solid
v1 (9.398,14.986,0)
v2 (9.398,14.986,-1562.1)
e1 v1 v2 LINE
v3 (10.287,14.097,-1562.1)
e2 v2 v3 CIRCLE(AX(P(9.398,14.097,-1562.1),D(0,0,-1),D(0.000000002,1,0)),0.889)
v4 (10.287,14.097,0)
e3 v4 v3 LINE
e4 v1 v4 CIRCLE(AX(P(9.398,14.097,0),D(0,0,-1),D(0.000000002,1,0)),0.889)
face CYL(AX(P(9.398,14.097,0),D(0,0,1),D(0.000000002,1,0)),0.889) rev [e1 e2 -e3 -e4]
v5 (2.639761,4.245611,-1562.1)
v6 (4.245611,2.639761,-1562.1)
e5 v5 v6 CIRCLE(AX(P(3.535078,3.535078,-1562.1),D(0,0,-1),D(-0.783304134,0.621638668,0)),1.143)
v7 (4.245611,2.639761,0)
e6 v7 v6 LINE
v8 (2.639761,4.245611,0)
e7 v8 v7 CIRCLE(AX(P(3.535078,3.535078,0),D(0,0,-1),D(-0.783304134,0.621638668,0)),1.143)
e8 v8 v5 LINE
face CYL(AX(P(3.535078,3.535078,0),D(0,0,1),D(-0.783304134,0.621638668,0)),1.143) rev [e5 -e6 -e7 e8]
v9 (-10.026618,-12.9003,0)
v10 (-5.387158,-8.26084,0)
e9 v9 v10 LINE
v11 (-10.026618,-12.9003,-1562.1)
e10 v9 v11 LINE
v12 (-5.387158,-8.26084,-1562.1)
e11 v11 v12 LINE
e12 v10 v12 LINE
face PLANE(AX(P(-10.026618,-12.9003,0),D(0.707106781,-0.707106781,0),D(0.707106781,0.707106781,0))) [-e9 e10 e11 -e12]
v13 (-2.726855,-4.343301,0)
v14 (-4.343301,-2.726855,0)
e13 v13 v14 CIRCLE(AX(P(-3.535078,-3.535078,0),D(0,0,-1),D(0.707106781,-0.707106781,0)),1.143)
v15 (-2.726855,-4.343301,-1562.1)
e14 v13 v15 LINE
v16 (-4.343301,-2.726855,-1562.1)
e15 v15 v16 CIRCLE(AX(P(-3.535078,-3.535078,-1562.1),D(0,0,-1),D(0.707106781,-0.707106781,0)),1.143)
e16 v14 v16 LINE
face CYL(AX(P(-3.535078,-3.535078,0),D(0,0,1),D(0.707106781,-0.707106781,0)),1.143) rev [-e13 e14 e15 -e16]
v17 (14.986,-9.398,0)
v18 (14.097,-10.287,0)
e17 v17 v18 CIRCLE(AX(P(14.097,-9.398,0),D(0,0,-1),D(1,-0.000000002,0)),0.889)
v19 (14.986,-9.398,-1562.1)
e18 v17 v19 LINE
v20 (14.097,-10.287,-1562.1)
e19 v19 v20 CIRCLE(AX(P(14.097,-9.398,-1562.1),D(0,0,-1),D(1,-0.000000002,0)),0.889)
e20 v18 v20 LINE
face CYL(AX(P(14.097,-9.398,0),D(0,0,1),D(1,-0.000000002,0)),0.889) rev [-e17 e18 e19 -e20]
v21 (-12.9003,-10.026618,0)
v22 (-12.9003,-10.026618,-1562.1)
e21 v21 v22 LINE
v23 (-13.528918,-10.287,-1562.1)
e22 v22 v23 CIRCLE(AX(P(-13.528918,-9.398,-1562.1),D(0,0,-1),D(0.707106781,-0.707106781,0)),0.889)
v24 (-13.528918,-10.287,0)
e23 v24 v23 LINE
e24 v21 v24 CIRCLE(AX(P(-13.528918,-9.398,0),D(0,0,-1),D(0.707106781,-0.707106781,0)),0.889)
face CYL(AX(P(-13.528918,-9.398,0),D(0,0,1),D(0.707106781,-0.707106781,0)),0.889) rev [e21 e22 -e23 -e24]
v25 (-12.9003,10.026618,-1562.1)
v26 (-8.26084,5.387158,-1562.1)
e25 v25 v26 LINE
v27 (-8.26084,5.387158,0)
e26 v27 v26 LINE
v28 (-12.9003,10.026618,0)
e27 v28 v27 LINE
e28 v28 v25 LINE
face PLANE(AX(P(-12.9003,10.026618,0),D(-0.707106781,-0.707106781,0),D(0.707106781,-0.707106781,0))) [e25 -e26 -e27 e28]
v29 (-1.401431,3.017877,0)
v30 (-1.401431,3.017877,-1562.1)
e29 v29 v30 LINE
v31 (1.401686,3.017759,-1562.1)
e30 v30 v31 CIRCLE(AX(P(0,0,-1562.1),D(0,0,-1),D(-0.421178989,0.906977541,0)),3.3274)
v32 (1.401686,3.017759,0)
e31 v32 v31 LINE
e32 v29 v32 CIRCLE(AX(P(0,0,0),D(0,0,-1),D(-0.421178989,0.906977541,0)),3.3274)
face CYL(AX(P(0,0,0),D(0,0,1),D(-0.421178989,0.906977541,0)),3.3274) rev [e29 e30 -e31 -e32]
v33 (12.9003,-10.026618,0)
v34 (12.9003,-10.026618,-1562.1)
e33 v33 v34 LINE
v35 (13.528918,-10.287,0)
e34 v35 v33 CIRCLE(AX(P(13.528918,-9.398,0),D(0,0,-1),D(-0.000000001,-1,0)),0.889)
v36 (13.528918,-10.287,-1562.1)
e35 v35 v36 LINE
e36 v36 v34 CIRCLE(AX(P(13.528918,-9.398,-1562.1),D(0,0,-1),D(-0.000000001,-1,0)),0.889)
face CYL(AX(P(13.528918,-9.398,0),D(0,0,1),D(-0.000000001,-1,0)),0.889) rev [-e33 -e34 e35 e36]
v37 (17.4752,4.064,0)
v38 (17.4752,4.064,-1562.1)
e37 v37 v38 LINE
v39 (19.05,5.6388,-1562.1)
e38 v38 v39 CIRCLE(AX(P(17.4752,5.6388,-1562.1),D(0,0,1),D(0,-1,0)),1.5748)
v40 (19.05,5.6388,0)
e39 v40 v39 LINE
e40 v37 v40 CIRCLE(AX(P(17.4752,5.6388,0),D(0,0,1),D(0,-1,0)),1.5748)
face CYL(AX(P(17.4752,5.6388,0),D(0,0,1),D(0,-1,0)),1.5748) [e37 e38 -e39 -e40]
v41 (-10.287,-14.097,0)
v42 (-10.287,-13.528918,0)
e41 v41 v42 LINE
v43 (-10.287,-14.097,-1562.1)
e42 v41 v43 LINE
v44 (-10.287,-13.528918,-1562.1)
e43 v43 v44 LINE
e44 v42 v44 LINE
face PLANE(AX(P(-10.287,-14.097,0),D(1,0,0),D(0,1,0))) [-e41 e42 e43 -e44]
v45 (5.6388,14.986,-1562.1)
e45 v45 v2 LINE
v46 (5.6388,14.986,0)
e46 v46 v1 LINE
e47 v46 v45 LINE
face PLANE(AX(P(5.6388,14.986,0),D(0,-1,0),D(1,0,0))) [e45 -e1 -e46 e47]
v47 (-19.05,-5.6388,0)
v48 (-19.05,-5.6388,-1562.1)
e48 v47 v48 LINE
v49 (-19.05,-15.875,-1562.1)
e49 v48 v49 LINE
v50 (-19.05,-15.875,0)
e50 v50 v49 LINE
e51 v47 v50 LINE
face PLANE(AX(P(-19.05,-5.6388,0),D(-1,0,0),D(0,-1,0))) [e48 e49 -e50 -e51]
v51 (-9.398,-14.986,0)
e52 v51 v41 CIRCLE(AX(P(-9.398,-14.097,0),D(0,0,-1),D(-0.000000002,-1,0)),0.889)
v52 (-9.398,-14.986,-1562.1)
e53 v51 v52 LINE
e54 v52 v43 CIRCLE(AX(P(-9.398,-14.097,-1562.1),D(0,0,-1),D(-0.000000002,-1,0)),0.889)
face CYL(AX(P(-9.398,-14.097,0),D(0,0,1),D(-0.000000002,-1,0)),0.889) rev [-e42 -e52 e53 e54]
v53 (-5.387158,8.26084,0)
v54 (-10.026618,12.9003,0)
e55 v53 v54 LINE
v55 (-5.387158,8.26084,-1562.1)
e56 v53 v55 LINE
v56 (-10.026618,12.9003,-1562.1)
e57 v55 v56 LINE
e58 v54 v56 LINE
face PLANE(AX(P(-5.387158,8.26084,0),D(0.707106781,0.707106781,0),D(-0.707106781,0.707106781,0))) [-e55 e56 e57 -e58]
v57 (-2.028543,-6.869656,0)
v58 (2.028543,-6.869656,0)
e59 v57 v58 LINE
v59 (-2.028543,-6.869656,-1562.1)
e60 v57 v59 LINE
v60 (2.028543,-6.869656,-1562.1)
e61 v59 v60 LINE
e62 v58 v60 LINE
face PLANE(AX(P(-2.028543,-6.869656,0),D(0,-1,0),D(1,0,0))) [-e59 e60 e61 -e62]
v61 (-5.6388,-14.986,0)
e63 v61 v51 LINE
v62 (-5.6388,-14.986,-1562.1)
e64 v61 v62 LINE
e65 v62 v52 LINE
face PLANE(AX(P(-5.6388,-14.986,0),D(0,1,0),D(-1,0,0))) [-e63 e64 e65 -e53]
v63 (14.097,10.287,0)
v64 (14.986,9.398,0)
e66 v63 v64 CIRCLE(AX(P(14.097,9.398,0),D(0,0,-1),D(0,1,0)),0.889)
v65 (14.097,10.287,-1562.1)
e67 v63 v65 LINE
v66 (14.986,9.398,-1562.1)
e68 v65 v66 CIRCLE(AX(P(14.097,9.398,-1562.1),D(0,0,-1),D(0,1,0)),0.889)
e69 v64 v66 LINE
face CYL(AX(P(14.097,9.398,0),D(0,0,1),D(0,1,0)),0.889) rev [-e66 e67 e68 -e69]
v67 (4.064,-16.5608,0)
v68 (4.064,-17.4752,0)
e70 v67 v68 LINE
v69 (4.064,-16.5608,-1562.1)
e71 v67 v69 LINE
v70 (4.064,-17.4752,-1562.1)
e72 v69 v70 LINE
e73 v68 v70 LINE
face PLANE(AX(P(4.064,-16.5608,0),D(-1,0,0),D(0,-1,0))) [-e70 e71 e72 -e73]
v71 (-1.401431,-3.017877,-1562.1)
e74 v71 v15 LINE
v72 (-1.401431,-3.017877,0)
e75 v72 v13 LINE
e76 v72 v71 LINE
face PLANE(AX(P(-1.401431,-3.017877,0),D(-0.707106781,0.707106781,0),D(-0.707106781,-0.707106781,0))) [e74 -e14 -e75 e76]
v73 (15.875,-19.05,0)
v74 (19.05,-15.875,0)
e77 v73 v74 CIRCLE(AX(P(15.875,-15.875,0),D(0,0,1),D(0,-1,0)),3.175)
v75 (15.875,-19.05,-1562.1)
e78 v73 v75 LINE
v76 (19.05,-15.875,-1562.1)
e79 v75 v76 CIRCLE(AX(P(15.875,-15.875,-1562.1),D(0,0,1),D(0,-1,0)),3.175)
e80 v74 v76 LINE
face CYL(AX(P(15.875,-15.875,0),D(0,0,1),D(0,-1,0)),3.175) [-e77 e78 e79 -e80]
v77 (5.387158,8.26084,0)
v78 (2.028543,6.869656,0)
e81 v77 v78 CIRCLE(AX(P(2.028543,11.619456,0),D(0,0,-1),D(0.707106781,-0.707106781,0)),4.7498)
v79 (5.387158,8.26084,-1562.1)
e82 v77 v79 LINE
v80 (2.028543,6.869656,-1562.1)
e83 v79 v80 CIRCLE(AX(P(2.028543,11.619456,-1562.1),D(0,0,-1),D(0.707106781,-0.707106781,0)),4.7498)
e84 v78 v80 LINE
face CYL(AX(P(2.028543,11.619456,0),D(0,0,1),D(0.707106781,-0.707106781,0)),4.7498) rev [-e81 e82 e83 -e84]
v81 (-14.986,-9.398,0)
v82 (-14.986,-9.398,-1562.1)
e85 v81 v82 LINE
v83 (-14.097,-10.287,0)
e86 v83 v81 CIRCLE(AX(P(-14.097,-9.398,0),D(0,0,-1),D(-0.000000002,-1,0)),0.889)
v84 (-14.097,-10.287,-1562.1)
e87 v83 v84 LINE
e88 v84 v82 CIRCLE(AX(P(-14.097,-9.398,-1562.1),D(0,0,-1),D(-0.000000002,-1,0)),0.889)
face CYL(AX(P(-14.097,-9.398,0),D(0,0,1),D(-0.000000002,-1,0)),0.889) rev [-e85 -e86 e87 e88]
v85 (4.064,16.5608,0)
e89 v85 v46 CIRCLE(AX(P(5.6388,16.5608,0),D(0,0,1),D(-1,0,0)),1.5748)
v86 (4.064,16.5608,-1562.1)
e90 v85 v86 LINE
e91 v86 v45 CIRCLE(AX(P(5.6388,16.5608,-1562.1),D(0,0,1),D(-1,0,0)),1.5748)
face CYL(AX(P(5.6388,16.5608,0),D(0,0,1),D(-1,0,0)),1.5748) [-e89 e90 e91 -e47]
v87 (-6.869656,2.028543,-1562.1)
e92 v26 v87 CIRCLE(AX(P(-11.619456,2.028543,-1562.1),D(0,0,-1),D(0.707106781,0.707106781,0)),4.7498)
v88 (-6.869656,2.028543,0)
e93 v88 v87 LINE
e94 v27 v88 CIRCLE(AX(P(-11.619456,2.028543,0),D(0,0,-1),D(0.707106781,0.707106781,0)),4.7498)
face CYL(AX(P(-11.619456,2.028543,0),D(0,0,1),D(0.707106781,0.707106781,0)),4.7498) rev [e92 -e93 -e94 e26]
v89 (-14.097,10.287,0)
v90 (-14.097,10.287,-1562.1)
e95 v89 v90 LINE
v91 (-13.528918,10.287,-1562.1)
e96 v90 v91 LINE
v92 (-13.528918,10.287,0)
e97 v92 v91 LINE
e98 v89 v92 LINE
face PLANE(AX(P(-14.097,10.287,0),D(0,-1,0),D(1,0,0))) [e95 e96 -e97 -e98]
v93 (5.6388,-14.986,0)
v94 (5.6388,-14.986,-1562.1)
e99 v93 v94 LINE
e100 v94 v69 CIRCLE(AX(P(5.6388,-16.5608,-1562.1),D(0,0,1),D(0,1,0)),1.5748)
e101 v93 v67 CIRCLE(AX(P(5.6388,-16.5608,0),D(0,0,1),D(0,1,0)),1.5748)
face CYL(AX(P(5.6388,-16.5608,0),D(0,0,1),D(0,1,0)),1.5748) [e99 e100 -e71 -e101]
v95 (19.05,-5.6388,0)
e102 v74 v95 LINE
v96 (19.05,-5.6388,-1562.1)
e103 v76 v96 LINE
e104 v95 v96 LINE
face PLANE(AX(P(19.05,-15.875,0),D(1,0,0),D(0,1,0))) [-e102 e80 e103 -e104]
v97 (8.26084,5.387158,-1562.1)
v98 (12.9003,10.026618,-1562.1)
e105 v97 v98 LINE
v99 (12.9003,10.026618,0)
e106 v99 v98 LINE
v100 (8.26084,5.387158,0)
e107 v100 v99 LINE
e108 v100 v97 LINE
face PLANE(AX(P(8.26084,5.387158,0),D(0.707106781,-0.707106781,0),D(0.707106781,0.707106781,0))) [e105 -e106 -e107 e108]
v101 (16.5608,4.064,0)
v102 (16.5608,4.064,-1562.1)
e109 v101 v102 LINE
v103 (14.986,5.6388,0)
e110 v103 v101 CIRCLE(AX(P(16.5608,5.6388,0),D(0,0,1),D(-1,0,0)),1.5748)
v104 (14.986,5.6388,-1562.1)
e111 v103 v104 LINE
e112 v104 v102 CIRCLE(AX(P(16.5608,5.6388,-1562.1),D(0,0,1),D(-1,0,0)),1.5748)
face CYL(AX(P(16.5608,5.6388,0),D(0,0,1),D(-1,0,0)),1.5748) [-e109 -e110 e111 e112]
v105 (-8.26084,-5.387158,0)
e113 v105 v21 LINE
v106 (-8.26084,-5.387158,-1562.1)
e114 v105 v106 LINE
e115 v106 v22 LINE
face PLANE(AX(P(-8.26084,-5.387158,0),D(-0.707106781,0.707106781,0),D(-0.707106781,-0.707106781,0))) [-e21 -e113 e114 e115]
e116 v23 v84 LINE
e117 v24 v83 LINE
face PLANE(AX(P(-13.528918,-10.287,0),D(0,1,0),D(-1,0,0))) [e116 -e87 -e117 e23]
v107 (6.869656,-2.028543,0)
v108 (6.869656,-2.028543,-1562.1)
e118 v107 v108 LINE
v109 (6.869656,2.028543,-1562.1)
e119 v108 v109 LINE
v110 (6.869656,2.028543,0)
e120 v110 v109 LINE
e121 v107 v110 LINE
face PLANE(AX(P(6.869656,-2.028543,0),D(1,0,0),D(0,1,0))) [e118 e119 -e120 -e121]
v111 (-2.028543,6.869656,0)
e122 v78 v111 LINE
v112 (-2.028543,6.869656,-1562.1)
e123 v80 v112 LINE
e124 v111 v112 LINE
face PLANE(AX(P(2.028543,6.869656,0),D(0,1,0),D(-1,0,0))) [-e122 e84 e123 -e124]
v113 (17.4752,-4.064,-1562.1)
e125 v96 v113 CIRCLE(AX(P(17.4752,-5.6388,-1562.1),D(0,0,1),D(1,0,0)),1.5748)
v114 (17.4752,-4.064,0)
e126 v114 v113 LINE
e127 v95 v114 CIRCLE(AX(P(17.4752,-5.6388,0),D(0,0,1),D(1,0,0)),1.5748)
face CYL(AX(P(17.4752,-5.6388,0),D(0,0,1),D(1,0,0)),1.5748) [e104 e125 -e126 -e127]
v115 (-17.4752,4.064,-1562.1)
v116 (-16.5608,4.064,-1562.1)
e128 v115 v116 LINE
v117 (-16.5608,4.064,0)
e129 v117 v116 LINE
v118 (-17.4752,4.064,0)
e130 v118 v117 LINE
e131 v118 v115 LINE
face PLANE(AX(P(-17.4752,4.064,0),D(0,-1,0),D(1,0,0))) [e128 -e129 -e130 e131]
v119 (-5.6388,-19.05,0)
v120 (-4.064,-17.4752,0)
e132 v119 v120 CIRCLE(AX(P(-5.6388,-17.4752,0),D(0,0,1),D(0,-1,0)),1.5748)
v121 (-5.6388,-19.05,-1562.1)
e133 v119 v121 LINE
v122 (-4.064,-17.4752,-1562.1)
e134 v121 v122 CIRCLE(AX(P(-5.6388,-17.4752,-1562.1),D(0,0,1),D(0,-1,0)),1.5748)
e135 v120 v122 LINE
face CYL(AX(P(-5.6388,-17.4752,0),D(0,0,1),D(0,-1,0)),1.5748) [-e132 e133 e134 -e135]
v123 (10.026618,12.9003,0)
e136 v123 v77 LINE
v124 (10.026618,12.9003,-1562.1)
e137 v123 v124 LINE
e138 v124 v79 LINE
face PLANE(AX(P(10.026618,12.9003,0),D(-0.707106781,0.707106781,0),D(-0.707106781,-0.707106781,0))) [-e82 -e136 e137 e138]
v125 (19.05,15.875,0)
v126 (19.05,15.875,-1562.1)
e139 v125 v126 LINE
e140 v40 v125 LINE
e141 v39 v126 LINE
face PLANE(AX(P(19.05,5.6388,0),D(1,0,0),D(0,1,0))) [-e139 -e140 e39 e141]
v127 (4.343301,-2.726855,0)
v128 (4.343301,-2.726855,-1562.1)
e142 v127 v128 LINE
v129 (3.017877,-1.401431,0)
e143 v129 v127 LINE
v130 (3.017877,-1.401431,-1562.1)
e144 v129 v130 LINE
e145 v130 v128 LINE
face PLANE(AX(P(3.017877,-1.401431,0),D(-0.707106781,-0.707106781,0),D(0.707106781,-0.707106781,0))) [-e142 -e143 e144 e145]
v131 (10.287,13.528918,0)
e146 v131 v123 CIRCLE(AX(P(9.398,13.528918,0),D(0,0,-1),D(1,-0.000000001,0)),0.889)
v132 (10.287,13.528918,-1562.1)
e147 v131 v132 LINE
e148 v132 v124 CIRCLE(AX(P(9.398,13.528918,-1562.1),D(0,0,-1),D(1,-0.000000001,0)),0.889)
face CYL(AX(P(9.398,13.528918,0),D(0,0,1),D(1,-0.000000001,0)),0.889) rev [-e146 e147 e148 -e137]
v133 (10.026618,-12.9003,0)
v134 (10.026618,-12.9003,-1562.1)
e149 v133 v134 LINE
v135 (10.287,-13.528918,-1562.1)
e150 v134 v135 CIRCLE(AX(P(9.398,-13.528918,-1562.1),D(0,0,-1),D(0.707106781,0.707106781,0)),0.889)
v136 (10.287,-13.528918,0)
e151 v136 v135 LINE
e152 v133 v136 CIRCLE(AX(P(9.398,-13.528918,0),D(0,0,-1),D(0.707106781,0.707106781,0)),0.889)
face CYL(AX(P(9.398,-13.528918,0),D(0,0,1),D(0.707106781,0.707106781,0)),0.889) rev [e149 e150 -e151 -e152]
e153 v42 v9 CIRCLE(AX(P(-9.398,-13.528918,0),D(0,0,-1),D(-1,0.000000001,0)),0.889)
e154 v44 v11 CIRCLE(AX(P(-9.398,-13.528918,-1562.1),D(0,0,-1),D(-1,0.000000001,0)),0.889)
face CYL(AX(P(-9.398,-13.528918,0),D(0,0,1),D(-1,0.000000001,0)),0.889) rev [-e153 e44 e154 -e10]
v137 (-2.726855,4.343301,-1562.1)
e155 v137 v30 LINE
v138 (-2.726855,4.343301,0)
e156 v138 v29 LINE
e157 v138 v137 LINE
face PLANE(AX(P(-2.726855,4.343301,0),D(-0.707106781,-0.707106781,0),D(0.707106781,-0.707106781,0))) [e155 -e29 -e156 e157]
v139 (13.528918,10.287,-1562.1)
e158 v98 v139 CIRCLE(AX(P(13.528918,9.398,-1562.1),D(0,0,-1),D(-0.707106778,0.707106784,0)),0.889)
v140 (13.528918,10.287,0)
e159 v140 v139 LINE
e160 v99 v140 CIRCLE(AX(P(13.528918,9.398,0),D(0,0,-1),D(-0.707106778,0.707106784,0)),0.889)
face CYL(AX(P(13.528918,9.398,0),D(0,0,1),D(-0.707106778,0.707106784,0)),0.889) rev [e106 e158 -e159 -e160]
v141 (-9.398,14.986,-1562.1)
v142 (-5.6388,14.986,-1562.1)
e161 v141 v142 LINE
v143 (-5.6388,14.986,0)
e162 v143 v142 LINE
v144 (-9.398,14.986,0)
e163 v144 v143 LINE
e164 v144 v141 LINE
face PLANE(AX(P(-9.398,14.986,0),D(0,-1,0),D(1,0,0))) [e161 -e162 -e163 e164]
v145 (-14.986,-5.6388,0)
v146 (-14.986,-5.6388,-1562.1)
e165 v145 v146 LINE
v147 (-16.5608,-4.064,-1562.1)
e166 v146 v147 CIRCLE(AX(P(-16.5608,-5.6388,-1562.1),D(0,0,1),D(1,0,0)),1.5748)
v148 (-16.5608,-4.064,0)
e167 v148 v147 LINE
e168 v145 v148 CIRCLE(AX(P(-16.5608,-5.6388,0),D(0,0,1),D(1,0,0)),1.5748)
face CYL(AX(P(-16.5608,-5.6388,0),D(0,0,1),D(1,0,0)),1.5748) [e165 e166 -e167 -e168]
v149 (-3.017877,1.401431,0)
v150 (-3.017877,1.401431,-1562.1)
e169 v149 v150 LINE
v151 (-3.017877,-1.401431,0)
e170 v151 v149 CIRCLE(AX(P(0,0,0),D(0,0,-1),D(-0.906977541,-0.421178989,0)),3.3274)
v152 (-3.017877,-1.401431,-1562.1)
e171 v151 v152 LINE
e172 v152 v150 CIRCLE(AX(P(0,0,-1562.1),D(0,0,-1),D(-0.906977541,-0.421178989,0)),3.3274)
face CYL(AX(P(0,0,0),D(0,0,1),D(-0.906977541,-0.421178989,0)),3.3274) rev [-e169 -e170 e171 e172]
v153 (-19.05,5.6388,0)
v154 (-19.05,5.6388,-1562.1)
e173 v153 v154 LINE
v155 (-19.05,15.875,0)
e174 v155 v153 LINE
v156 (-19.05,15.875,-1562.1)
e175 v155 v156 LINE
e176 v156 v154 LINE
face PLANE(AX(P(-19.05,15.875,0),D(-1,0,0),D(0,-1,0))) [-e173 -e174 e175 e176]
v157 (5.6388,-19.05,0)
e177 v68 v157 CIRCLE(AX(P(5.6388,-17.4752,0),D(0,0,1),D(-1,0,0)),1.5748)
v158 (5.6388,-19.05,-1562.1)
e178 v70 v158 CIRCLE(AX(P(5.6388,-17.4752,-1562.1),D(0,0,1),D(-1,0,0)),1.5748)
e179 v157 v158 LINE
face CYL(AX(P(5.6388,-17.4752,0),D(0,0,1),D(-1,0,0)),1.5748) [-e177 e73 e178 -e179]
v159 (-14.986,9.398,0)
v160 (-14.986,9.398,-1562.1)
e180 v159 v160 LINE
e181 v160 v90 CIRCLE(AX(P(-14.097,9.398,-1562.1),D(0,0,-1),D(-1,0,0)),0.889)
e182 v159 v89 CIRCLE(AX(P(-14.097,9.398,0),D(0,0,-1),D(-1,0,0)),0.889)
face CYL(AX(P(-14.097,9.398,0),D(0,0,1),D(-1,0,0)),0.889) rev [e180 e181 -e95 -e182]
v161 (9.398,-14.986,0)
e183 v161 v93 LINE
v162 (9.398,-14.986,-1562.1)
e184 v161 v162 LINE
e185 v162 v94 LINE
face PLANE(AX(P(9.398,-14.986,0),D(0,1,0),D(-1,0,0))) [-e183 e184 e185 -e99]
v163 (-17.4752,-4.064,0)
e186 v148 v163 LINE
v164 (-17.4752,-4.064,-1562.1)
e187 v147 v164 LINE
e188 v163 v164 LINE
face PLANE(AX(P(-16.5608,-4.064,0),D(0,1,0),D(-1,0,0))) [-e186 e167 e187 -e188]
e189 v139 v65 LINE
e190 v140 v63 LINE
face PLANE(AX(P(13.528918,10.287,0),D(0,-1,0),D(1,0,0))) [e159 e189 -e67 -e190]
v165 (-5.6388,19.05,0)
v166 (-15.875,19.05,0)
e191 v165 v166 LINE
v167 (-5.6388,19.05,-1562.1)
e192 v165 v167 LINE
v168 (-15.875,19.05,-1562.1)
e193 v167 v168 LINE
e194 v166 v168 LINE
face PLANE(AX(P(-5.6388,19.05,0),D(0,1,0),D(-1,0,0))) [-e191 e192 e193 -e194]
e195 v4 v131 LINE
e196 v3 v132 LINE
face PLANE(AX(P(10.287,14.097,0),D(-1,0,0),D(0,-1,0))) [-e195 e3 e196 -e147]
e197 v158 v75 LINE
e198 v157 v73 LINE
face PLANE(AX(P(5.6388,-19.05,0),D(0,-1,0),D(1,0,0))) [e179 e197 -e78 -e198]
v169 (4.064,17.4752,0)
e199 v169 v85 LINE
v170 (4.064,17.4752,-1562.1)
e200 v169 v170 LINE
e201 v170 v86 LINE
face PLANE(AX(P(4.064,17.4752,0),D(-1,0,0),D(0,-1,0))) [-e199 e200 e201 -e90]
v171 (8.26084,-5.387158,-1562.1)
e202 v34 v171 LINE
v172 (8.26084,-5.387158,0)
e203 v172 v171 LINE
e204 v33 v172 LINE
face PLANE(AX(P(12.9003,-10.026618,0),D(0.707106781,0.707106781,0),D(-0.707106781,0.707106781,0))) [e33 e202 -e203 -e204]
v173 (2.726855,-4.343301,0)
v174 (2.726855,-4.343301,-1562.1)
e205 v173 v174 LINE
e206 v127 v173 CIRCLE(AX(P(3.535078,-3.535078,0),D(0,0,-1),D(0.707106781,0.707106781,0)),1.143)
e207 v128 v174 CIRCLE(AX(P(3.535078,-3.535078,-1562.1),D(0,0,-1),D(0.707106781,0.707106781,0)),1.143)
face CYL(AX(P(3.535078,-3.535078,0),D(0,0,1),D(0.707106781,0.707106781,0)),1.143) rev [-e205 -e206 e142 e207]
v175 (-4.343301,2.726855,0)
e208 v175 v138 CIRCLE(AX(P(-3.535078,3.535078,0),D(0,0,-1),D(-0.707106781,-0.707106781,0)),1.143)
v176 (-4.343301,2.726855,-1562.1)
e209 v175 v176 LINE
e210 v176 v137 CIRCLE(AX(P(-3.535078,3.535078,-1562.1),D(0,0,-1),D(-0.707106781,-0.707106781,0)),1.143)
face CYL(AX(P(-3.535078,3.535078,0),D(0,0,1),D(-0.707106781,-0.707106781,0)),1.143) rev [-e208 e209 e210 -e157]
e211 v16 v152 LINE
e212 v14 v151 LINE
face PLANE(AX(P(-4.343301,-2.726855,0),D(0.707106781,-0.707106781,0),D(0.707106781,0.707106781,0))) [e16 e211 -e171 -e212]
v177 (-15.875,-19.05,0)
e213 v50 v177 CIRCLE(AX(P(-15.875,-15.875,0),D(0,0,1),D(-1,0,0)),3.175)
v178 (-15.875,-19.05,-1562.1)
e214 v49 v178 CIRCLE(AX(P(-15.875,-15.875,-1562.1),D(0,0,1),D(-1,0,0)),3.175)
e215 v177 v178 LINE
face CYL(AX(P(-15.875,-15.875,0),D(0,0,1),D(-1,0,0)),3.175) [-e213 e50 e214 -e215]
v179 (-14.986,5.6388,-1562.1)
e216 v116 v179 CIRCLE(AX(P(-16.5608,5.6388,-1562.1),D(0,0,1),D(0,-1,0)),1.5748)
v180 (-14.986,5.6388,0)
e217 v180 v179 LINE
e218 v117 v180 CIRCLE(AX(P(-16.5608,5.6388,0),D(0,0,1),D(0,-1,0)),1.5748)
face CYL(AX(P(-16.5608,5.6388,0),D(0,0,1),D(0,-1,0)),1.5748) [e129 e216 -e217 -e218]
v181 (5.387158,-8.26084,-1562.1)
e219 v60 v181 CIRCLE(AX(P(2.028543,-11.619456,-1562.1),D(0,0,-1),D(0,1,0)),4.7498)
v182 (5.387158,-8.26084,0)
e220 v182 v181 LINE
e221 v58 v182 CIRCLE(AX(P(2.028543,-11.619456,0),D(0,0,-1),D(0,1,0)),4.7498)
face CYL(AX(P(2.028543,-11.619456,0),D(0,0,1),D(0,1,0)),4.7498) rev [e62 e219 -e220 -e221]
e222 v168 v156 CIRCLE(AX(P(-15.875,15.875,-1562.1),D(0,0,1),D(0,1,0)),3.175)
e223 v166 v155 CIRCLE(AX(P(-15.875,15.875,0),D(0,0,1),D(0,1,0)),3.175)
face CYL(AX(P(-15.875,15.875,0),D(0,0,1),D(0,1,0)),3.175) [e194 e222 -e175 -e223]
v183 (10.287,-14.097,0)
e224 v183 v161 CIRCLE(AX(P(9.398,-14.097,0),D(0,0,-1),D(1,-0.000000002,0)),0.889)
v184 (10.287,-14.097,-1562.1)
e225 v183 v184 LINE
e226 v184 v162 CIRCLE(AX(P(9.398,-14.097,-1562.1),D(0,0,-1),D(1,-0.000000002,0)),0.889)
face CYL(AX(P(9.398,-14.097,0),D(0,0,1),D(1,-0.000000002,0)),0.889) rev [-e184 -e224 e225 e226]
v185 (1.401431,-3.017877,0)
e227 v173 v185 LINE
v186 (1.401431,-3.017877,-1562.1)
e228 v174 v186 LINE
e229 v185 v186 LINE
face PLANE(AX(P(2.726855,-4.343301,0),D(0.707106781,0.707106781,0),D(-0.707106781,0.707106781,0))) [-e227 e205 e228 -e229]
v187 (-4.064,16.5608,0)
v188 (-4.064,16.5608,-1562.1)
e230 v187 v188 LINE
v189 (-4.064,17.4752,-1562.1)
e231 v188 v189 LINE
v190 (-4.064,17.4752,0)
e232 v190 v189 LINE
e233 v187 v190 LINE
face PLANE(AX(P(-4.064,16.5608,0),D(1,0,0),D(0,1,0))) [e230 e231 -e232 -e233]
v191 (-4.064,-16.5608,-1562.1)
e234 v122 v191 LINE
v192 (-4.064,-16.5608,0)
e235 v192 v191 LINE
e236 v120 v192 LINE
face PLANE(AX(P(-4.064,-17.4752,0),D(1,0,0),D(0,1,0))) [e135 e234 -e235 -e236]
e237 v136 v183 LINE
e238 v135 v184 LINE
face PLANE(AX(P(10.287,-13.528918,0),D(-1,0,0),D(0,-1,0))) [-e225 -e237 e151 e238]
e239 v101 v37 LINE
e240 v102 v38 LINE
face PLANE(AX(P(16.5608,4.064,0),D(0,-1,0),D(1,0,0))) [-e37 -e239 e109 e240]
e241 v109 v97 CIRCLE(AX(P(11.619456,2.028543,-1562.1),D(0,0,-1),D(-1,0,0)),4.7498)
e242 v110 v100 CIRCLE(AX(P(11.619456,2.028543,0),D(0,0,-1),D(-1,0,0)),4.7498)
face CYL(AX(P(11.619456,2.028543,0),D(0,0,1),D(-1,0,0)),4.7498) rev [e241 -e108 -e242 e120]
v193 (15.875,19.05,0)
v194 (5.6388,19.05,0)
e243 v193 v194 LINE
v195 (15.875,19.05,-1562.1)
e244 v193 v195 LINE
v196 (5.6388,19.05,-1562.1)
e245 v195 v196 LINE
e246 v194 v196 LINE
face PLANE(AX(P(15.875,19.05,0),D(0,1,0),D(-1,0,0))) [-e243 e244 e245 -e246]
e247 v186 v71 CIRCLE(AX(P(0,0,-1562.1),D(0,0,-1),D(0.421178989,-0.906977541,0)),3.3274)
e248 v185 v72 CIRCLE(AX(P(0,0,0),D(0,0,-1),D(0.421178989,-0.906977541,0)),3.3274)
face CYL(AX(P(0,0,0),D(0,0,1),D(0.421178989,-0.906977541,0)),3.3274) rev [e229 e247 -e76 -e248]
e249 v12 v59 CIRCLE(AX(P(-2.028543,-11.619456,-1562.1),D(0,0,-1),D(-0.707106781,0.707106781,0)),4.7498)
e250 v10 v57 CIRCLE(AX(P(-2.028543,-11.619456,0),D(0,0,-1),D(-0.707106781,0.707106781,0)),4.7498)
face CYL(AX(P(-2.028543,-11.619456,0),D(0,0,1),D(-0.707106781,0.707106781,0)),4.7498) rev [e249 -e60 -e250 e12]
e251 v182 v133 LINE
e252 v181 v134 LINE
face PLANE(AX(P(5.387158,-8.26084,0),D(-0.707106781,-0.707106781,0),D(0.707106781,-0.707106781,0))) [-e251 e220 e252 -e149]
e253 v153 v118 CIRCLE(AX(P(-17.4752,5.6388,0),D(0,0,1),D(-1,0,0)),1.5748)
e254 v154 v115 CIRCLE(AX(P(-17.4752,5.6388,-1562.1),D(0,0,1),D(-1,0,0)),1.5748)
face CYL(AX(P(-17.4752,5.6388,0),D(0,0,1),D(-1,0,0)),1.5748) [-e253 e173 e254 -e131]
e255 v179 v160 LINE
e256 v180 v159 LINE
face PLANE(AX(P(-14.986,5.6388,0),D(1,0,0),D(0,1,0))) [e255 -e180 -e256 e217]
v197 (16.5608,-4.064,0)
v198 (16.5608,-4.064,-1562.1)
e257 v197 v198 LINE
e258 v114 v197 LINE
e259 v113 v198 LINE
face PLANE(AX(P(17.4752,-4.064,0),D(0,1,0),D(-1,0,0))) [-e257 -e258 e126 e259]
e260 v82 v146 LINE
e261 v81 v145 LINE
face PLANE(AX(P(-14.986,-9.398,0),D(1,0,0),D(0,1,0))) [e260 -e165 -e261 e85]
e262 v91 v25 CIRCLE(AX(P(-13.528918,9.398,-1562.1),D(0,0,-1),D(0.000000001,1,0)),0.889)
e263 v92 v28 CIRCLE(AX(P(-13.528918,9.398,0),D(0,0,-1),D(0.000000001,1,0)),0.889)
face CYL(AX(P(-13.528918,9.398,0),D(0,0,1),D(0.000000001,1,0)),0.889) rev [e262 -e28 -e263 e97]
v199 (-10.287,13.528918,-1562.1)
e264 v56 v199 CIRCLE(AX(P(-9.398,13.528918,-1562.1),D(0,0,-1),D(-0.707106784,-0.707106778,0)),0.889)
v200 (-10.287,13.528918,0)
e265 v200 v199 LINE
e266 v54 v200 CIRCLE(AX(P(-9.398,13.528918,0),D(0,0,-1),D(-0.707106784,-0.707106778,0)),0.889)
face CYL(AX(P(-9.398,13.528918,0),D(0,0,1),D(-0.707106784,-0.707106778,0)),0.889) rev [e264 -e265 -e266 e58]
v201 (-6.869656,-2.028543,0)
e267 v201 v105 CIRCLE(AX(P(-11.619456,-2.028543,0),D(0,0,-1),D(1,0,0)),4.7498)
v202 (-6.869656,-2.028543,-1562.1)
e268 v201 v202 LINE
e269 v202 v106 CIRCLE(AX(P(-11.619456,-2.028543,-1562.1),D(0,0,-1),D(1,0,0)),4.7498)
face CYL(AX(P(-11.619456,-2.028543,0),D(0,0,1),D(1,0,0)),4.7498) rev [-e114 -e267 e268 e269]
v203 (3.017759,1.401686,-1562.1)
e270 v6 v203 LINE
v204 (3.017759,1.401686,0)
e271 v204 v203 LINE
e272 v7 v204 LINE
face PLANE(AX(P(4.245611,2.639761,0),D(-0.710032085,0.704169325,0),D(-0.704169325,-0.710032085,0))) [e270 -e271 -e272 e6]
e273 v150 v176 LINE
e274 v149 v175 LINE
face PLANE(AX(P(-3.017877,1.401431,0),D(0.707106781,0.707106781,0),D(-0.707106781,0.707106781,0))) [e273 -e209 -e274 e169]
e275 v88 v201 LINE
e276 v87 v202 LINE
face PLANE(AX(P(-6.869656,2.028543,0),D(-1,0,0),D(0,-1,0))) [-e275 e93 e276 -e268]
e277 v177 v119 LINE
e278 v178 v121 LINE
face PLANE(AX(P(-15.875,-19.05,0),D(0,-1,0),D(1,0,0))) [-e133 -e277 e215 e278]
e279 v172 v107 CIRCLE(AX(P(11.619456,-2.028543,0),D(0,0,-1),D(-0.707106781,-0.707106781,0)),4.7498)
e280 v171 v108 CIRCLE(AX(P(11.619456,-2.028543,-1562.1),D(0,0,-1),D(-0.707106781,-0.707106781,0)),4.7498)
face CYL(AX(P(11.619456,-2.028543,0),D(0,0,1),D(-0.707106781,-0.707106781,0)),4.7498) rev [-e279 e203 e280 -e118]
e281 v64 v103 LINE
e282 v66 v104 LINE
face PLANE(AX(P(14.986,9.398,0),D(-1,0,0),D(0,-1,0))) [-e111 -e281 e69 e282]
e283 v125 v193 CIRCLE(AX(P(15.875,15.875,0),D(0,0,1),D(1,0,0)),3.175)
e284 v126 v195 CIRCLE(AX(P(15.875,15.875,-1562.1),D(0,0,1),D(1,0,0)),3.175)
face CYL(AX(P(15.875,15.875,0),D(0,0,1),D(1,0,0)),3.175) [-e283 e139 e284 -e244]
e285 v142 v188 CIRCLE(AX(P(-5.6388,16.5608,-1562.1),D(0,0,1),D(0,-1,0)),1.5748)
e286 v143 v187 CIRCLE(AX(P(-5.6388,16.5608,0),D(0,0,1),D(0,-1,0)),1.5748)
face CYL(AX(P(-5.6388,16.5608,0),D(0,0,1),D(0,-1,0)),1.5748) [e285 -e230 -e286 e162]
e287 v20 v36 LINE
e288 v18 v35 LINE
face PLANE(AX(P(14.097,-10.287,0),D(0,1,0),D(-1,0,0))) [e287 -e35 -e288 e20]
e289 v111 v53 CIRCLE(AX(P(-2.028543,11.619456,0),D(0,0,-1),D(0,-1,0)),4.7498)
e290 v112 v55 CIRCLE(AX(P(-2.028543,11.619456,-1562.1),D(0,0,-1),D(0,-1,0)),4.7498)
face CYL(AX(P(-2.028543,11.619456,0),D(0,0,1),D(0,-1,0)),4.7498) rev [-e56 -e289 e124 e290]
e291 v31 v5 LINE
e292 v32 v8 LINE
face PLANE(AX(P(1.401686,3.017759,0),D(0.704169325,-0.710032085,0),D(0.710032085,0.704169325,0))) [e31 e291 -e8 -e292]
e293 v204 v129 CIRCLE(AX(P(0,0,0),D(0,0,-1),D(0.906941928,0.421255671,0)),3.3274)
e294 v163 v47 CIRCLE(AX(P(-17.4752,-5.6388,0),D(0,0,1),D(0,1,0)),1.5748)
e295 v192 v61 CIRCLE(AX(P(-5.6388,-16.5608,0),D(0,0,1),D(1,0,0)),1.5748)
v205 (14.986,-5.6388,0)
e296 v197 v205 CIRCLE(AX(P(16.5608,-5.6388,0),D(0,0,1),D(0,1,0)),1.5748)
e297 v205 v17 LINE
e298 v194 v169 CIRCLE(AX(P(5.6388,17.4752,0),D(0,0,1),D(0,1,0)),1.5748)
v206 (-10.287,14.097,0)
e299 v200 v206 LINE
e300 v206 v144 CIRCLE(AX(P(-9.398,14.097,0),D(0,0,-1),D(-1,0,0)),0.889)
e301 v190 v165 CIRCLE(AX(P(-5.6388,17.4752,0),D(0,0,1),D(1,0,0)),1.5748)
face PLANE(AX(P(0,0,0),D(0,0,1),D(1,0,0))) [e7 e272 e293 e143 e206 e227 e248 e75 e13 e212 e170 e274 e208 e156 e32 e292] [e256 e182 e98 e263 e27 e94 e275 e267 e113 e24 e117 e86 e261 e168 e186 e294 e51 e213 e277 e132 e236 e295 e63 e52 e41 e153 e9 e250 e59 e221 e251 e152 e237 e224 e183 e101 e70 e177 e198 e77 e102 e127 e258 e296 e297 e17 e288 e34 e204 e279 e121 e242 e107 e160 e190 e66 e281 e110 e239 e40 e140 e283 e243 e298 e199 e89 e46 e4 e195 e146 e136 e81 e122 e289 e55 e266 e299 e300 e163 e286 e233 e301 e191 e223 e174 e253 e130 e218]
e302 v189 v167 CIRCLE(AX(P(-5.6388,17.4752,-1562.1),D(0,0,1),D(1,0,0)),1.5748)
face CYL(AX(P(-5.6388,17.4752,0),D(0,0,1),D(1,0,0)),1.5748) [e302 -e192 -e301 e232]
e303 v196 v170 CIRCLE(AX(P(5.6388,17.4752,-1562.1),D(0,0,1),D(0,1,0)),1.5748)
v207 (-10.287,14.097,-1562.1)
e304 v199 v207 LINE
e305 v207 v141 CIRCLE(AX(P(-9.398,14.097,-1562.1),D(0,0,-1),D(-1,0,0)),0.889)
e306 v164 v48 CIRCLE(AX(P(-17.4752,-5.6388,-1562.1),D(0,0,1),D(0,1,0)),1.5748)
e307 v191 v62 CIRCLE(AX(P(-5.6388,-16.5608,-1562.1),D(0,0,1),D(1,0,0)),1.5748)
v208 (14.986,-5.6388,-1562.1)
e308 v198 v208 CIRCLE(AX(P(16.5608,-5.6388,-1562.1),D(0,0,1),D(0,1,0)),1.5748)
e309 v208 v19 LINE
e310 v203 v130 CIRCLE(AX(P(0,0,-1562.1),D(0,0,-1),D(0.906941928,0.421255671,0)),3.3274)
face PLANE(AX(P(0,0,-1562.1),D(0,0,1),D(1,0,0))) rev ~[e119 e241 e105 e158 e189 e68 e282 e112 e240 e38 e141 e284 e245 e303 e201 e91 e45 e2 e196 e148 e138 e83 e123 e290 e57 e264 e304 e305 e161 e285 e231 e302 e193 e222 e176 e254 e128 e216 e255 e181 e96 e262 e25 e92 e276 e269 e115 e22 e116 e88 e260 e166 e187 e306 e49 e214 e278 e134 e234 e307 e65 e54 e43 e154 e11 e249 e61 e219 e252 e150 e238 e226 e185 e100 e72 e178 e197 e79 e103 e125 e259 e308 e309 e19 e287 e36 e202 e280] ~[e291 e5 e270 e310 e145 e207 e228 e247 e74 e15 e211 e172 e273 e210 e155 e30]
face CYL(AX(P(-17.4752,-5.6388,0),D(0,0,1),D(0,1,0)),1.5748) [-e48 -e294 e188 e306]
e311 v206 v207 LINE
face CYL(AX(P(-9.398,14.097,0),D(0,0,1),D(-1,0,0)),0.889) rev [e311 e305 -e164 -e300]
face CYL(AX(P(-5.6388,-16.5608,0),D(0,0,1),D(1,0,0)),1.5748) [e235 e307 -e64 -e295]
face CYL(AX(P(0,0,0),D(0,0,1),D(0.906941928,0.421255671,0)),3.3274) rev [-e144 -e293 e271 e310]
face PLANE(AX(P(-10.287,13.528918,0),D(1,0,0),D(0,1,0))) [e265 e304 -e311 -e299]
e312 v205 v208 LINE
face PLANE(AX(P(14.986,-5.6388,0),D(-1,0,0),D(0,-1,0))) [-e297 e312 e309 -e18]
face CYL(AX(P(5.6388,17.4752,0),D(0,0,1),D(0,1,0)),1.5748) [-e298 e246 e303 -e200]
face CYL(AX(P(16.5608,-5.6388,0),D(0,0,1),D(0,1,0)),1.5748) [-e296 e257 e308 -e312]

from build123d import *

# Parameters (mm, degrees)
EXTRUDE1_DEPTH = 1562.1


with BuildPart() as part:
    # Sketch1 → Extrude1 (new body)
    with BuildSketch(Plane.XY):
        with BuildLine():
            Line((14.986, -5.6388), (14.986, -9.398))
            ThreePointArc((14.986, -9.398), (14.725617928, -10.026617928), (14.097, -10.287))
            Line((14.097, -10.287), (13.528917816, -10.287))
            ThreePointArc((13.528917816, -10.287), (13.188712244, -10.219328904), (12.900299887, -10.026617928))
            Line((12.900299887, -10.026617928), (8.260840349, -5.38715839))
            ThreePointArc((8.260840349, -5.38715839), (7.231213135, -3.846212368), (6.869656138, -2.028542601))
            Line((6.869656138, -2.028542601), (6.869656138, 2.028542601))
            ThreePointArc((6.869656138, 2.028542601), (7.231213135, 3.846212368), (8.260840349, 5.38715839))
            Line((8.260840349, 5.38715839), (12.900299887, 10.026617929))
            ThreePointArc((12.900299887, 10.026617929), (13.188712244, 10.219328904), (13.528917816, 10.287))
            Line((13.528917816, 10.287), (14.097, 10.287))
            ThreePointArc((14.097, 10.287), (14.725617928, 10.026617929), (14.986, 9.398))
            Line((14.986, 9.398), (14.986, 5.6388))
            ThreePointArc((14.986, 5.6388), (15.447248241, 4.525248241), (16.5608, 4.064))
            Line((16.5608, 4.064), (17.4752, 4.064))
            ThreePointArc((17.4752, 4.064), (18.588751759, 4.525248241), (19.05, 5.6388))
            Line((19.05, 5.6388), (19.05, 15.875))
            ThreePointArc((19.05, 15.875), (18.12006403, 18.12006403), (15.875, 19.05))
            Line((15.875, 19.05), (5.6388, 19.05))
            ThreePointArc((5.6388, 19.05), (4.525248241, 18.588751759), (4.064, 17.4752))
            Line((4.064, 17.4752), (4.064, 16.5608))
            ThreePointArc((4.064, 16.5608), (4.525248241, 15.447248241), (5.6388, 14.986))
            Line((5.6388, 14.986), (9.398, 14.986))
            ThreePointArc((9.398, 14.986), (10.026617928, 14.725617928), (10.287, 14.097))
            Line((10.287, 14.097), (10.287, 13.528917816))
            ThreePointArc((10.287, 13.528917816), (10.219328904, 13.188712244), (10.026617928, 12.900299887))
            Line((10.026617928, 12.900299887), (5.38715839, 8.260840349))
            ThreePointArc((5.38715839, 8.260840349), (3.846212368, 7.231213135), (2.028542601, 6.869656138))
            Line((2.028542601, 6.869656138), (-2.028542601, 6.869656138))
            ThreePointArc((-2.028542601, 6.869656138), (-3.846212368, 7.231213135), (-5.38715839, 8.260840349))
            Line((-5.38715839, 8.260840349), (-10.026617929, 12.900299887))
            ThreePointArc((-10.026617929, 12.900299887), (-10.219328904, 13.188712244), (-10.287, 13.528917816))
            Line((-10.287, 13.528917816), (-10.287, 14.097))
            ThreePointArc((-10.287, 14.097), (-10.026617929, 14.725617928), (-9.398, 14.986))
            Line((-9.398, 14.986), (-5.6388, 14.986))
            ThreePointArc((-5.6388, 14.986), (-4.525248241, 15.447248241), (-4.064, 16.5608))
            Line((-4.064, 16.5608), (-4.064, 17.4752))
            ThreePointArc((-4.064, 17.4752), (-4.525248241, 18.588751759), (-5.6388, 19.05))
            Line((-5.6388, 19.05), (-15.875, 19.05))
            ThreePointArc((-15.875, 19.05), (-18.12006403, 18.12006403), (-19.05, 15.875))
            Line((-19.05, 15.875), (-19.05, 5.6388))
            ThreePointArc((-19.05, 5.6388), (-18.588751759, 4.525248241), (-17.4752, 4.064))
            Line((-17.4752, 4.064), (-16.5608, 4.064))
            ThreePointArc((-16.5608, 4.064), (-15.447248241, 4.525248241), (-14.986, 5.6388))
            Line((-14.986, 5.6388), (-14.986, 9.398))
            ThreePointArc((-14.986, 9.398), (-14.725617929, 10.026617928), (-14.097, 10.287))
            Line((-14.097, 10.287), (-13.528917816, 10.287))
            ThreePointArc((-13.528917816, 10.287), (-13.188712244, 10.219328904), (-12.900299887, 10.026617928))
            Line((-12.900299887, 10.026617928), (-8.260840349, 5.38715839))
            ThreePointArc((-8.260840349, 5.38715839), (-7.231213135, 3.846212368), (-6.869656138, 2.028542601))
            Line((-6.869656138, 2.028542601), (-6.869656138, -2.028542601))
            ThreePointArc((-6.869656138, -2.028542601), (-7.231213135, -3.846212368), (-8.260840349, -5.38715839))
            Line((-8.260840349, -5.38715839), (-12.900299887, -10.026617928))
            ThreePointArc((-12.900299887, -10.026617928), (-13.188712244, -10.219328904), (-13.528917816, -10.287))
            Line((-13.528917816, -10.287), (-14.097, -10.287))
            ThreePointArc((-14.097, -10.287), (-14.725617928, -10.026617928), (-14.986, -9.398))
            Line((-14.986, -9.398), (-14.986, -5.6388))
            ThreePointArc((-14.986, -5.6388), (-15.447248241, -4.525248241), (-16.5608, -4.064))
            Line((-16.5608, -4.064), (-17.4752, -4.064))
            ThreePointArc((-17.4752, -4.064), (-18.588751759, -4.525248241), (-19.05, -5.6388))
            Line((-19.05, -5.6388), (-19.05, -15.875))
            ThreePointArc((-19.05, -15.875), (-18.12006403, -18.12006403), (-15.875, -19.05))
            Line((-15.875, -19.05), (-5.6388, -19.05))
            ThreePointArc((-5.6388, -19.05), (-4.525248241, -18.588751759), (-4.064, -17.4752))
            Line((-4.064, -17.4752), (-4.064, -16.5608))
            ThreePointArc((-4.064, -16.5608), (-4.525248241, -15.447248241), (-5.6388, -14.986))
            Line((-5.6388, -14.986), (-9.398, -14.986))
            ThreePointArc((-9.398, -14.986), (-10.026617928, -14.725617928), (-10.287, -14.097))
            Line((-10.287, -14.097), (-10.287, -13.528917816))
            ThreePointArc((-10.287, -13.528917816), (-10.219328904, -13.188712244), (-10.026617928, -12.900299887))
            Line((-10.026617928, -12.900299887), (-5.38715839, -8.260840349))
            ThreePointArc((-5.38715839, -8.260840349), (-3.846212368, -7.231213135), (-2.028542601, -6.869656138))
            Line((-2.028542601, -6.869656138), (2.028542601, -6.869656138))
            ThreePointArc((2.028542601, -6.869656138), (3.846212368, -7.231213135), (5.38715839, -8.260840349))
            Line((5.38715839, -8.260840349), (10.026617928, -12.900299887))
            ThreePointArc((10.026617928, -12.900299887), (10.219328904, -13.188712244), (10.287, -13.528917816))
            Line((10.287, -13.528917816), (10.287, -14.097))
            ThreePointArc((10.287, -14.097), (10.026617928, -14.725617928), (9.398, -14.986))
            Line((9.398, -14.986), (5.6388, -14.986))
            ThreePointArc((5.6388, -14.986), (4.525248241, -15.447248241), (4.064, -16.5608))
            Line((4.064, -16.5608), (4.064, -17.4752))
            ThreePointArc((4.064, -17.4752), (4.525248241, -18.588751759), (5.6388, -19.05))
            Line((5.6388, -19.05), (15.875, -19.05))
            ThreePointArc((15.875, -19.05), (18.12006403, -18.12006403), (19.05, -15.875))
            Line((19.05, -15.875), (19.05, -5.6388))
            ThreePointArc((19.05, -5.6388), (18.588751759, -4.525248241), (17.4752, -4.064))
            Line((17.4752, -4.064), (16.5608, -4.064))
            ThreePointArc((16.5608, -4.064), (15.447248241, -4.525248241), (14.986, -5.6388))
        make_face()
        with BuildLine():
            Line((4.24561082, 2.639761197), (3.01775857, 1.401686117))
            ThreePointArc((3.01775857, 1.401686117), (3.327399997, 0.000140662), (3.017877069, -1.401430967))
            Line((3.017877069, -1.401430967), (4.343300873, -2.726854771))
            ThreePointArc((4.343300873, -2.726854771), (4.343300873, -4.343300873), (2.726854771, -4.343300873))
            Line((2.726854771, -4.343300873), (1.401430967, -3.017877069))
            ThreePointArc((1.401430967, -3.017877069), (0, -3.3274), (-1.401430967, -3.017877069))
            Line((-1.401430967, -3.017877069), (-2.726854771, -4.343300873))
            ThreePointArc((-2.726854771, -4.343300873), (-4.343300873, -4.343300873), (-4.343300873, -2.726854771))
            Line((-4.343300873, -2.726854771), (-3.017877069, -1.401430967))
            ThreePointArc((-3.017877069, -1.401430967), (-3.3274, 0), (-3.017877069, 1.401430967))
            Line((-3.017877069, 1.401430967), (-4.343300873, 2.726854771))
            ThreePointArc((-4.343300873, 2.726854771), (-4.343300873, 4.343300873), (-2.726854771, 4.343300873))
            Line((-2.726854771, 4.343300873), (-1.401430967, 3.017877069))
            ThreePointArc((-1.401430967, 3.017877069), (0.000140662, 3.327399997), (1.401686117, 3.01775857))
            Line((1.401686117, 3.01775857), (2.639761197, 4.24561082))
            ThreePointArc((2.639761197, 4.24561082), (4.343300873, 4.343300873), (4.24561082, 2.639761197))
        make_face(mode=Mode.SUBTRACT)
    extrude(amount=-EXTRUDE1_DEPTH)


solid = part.part
